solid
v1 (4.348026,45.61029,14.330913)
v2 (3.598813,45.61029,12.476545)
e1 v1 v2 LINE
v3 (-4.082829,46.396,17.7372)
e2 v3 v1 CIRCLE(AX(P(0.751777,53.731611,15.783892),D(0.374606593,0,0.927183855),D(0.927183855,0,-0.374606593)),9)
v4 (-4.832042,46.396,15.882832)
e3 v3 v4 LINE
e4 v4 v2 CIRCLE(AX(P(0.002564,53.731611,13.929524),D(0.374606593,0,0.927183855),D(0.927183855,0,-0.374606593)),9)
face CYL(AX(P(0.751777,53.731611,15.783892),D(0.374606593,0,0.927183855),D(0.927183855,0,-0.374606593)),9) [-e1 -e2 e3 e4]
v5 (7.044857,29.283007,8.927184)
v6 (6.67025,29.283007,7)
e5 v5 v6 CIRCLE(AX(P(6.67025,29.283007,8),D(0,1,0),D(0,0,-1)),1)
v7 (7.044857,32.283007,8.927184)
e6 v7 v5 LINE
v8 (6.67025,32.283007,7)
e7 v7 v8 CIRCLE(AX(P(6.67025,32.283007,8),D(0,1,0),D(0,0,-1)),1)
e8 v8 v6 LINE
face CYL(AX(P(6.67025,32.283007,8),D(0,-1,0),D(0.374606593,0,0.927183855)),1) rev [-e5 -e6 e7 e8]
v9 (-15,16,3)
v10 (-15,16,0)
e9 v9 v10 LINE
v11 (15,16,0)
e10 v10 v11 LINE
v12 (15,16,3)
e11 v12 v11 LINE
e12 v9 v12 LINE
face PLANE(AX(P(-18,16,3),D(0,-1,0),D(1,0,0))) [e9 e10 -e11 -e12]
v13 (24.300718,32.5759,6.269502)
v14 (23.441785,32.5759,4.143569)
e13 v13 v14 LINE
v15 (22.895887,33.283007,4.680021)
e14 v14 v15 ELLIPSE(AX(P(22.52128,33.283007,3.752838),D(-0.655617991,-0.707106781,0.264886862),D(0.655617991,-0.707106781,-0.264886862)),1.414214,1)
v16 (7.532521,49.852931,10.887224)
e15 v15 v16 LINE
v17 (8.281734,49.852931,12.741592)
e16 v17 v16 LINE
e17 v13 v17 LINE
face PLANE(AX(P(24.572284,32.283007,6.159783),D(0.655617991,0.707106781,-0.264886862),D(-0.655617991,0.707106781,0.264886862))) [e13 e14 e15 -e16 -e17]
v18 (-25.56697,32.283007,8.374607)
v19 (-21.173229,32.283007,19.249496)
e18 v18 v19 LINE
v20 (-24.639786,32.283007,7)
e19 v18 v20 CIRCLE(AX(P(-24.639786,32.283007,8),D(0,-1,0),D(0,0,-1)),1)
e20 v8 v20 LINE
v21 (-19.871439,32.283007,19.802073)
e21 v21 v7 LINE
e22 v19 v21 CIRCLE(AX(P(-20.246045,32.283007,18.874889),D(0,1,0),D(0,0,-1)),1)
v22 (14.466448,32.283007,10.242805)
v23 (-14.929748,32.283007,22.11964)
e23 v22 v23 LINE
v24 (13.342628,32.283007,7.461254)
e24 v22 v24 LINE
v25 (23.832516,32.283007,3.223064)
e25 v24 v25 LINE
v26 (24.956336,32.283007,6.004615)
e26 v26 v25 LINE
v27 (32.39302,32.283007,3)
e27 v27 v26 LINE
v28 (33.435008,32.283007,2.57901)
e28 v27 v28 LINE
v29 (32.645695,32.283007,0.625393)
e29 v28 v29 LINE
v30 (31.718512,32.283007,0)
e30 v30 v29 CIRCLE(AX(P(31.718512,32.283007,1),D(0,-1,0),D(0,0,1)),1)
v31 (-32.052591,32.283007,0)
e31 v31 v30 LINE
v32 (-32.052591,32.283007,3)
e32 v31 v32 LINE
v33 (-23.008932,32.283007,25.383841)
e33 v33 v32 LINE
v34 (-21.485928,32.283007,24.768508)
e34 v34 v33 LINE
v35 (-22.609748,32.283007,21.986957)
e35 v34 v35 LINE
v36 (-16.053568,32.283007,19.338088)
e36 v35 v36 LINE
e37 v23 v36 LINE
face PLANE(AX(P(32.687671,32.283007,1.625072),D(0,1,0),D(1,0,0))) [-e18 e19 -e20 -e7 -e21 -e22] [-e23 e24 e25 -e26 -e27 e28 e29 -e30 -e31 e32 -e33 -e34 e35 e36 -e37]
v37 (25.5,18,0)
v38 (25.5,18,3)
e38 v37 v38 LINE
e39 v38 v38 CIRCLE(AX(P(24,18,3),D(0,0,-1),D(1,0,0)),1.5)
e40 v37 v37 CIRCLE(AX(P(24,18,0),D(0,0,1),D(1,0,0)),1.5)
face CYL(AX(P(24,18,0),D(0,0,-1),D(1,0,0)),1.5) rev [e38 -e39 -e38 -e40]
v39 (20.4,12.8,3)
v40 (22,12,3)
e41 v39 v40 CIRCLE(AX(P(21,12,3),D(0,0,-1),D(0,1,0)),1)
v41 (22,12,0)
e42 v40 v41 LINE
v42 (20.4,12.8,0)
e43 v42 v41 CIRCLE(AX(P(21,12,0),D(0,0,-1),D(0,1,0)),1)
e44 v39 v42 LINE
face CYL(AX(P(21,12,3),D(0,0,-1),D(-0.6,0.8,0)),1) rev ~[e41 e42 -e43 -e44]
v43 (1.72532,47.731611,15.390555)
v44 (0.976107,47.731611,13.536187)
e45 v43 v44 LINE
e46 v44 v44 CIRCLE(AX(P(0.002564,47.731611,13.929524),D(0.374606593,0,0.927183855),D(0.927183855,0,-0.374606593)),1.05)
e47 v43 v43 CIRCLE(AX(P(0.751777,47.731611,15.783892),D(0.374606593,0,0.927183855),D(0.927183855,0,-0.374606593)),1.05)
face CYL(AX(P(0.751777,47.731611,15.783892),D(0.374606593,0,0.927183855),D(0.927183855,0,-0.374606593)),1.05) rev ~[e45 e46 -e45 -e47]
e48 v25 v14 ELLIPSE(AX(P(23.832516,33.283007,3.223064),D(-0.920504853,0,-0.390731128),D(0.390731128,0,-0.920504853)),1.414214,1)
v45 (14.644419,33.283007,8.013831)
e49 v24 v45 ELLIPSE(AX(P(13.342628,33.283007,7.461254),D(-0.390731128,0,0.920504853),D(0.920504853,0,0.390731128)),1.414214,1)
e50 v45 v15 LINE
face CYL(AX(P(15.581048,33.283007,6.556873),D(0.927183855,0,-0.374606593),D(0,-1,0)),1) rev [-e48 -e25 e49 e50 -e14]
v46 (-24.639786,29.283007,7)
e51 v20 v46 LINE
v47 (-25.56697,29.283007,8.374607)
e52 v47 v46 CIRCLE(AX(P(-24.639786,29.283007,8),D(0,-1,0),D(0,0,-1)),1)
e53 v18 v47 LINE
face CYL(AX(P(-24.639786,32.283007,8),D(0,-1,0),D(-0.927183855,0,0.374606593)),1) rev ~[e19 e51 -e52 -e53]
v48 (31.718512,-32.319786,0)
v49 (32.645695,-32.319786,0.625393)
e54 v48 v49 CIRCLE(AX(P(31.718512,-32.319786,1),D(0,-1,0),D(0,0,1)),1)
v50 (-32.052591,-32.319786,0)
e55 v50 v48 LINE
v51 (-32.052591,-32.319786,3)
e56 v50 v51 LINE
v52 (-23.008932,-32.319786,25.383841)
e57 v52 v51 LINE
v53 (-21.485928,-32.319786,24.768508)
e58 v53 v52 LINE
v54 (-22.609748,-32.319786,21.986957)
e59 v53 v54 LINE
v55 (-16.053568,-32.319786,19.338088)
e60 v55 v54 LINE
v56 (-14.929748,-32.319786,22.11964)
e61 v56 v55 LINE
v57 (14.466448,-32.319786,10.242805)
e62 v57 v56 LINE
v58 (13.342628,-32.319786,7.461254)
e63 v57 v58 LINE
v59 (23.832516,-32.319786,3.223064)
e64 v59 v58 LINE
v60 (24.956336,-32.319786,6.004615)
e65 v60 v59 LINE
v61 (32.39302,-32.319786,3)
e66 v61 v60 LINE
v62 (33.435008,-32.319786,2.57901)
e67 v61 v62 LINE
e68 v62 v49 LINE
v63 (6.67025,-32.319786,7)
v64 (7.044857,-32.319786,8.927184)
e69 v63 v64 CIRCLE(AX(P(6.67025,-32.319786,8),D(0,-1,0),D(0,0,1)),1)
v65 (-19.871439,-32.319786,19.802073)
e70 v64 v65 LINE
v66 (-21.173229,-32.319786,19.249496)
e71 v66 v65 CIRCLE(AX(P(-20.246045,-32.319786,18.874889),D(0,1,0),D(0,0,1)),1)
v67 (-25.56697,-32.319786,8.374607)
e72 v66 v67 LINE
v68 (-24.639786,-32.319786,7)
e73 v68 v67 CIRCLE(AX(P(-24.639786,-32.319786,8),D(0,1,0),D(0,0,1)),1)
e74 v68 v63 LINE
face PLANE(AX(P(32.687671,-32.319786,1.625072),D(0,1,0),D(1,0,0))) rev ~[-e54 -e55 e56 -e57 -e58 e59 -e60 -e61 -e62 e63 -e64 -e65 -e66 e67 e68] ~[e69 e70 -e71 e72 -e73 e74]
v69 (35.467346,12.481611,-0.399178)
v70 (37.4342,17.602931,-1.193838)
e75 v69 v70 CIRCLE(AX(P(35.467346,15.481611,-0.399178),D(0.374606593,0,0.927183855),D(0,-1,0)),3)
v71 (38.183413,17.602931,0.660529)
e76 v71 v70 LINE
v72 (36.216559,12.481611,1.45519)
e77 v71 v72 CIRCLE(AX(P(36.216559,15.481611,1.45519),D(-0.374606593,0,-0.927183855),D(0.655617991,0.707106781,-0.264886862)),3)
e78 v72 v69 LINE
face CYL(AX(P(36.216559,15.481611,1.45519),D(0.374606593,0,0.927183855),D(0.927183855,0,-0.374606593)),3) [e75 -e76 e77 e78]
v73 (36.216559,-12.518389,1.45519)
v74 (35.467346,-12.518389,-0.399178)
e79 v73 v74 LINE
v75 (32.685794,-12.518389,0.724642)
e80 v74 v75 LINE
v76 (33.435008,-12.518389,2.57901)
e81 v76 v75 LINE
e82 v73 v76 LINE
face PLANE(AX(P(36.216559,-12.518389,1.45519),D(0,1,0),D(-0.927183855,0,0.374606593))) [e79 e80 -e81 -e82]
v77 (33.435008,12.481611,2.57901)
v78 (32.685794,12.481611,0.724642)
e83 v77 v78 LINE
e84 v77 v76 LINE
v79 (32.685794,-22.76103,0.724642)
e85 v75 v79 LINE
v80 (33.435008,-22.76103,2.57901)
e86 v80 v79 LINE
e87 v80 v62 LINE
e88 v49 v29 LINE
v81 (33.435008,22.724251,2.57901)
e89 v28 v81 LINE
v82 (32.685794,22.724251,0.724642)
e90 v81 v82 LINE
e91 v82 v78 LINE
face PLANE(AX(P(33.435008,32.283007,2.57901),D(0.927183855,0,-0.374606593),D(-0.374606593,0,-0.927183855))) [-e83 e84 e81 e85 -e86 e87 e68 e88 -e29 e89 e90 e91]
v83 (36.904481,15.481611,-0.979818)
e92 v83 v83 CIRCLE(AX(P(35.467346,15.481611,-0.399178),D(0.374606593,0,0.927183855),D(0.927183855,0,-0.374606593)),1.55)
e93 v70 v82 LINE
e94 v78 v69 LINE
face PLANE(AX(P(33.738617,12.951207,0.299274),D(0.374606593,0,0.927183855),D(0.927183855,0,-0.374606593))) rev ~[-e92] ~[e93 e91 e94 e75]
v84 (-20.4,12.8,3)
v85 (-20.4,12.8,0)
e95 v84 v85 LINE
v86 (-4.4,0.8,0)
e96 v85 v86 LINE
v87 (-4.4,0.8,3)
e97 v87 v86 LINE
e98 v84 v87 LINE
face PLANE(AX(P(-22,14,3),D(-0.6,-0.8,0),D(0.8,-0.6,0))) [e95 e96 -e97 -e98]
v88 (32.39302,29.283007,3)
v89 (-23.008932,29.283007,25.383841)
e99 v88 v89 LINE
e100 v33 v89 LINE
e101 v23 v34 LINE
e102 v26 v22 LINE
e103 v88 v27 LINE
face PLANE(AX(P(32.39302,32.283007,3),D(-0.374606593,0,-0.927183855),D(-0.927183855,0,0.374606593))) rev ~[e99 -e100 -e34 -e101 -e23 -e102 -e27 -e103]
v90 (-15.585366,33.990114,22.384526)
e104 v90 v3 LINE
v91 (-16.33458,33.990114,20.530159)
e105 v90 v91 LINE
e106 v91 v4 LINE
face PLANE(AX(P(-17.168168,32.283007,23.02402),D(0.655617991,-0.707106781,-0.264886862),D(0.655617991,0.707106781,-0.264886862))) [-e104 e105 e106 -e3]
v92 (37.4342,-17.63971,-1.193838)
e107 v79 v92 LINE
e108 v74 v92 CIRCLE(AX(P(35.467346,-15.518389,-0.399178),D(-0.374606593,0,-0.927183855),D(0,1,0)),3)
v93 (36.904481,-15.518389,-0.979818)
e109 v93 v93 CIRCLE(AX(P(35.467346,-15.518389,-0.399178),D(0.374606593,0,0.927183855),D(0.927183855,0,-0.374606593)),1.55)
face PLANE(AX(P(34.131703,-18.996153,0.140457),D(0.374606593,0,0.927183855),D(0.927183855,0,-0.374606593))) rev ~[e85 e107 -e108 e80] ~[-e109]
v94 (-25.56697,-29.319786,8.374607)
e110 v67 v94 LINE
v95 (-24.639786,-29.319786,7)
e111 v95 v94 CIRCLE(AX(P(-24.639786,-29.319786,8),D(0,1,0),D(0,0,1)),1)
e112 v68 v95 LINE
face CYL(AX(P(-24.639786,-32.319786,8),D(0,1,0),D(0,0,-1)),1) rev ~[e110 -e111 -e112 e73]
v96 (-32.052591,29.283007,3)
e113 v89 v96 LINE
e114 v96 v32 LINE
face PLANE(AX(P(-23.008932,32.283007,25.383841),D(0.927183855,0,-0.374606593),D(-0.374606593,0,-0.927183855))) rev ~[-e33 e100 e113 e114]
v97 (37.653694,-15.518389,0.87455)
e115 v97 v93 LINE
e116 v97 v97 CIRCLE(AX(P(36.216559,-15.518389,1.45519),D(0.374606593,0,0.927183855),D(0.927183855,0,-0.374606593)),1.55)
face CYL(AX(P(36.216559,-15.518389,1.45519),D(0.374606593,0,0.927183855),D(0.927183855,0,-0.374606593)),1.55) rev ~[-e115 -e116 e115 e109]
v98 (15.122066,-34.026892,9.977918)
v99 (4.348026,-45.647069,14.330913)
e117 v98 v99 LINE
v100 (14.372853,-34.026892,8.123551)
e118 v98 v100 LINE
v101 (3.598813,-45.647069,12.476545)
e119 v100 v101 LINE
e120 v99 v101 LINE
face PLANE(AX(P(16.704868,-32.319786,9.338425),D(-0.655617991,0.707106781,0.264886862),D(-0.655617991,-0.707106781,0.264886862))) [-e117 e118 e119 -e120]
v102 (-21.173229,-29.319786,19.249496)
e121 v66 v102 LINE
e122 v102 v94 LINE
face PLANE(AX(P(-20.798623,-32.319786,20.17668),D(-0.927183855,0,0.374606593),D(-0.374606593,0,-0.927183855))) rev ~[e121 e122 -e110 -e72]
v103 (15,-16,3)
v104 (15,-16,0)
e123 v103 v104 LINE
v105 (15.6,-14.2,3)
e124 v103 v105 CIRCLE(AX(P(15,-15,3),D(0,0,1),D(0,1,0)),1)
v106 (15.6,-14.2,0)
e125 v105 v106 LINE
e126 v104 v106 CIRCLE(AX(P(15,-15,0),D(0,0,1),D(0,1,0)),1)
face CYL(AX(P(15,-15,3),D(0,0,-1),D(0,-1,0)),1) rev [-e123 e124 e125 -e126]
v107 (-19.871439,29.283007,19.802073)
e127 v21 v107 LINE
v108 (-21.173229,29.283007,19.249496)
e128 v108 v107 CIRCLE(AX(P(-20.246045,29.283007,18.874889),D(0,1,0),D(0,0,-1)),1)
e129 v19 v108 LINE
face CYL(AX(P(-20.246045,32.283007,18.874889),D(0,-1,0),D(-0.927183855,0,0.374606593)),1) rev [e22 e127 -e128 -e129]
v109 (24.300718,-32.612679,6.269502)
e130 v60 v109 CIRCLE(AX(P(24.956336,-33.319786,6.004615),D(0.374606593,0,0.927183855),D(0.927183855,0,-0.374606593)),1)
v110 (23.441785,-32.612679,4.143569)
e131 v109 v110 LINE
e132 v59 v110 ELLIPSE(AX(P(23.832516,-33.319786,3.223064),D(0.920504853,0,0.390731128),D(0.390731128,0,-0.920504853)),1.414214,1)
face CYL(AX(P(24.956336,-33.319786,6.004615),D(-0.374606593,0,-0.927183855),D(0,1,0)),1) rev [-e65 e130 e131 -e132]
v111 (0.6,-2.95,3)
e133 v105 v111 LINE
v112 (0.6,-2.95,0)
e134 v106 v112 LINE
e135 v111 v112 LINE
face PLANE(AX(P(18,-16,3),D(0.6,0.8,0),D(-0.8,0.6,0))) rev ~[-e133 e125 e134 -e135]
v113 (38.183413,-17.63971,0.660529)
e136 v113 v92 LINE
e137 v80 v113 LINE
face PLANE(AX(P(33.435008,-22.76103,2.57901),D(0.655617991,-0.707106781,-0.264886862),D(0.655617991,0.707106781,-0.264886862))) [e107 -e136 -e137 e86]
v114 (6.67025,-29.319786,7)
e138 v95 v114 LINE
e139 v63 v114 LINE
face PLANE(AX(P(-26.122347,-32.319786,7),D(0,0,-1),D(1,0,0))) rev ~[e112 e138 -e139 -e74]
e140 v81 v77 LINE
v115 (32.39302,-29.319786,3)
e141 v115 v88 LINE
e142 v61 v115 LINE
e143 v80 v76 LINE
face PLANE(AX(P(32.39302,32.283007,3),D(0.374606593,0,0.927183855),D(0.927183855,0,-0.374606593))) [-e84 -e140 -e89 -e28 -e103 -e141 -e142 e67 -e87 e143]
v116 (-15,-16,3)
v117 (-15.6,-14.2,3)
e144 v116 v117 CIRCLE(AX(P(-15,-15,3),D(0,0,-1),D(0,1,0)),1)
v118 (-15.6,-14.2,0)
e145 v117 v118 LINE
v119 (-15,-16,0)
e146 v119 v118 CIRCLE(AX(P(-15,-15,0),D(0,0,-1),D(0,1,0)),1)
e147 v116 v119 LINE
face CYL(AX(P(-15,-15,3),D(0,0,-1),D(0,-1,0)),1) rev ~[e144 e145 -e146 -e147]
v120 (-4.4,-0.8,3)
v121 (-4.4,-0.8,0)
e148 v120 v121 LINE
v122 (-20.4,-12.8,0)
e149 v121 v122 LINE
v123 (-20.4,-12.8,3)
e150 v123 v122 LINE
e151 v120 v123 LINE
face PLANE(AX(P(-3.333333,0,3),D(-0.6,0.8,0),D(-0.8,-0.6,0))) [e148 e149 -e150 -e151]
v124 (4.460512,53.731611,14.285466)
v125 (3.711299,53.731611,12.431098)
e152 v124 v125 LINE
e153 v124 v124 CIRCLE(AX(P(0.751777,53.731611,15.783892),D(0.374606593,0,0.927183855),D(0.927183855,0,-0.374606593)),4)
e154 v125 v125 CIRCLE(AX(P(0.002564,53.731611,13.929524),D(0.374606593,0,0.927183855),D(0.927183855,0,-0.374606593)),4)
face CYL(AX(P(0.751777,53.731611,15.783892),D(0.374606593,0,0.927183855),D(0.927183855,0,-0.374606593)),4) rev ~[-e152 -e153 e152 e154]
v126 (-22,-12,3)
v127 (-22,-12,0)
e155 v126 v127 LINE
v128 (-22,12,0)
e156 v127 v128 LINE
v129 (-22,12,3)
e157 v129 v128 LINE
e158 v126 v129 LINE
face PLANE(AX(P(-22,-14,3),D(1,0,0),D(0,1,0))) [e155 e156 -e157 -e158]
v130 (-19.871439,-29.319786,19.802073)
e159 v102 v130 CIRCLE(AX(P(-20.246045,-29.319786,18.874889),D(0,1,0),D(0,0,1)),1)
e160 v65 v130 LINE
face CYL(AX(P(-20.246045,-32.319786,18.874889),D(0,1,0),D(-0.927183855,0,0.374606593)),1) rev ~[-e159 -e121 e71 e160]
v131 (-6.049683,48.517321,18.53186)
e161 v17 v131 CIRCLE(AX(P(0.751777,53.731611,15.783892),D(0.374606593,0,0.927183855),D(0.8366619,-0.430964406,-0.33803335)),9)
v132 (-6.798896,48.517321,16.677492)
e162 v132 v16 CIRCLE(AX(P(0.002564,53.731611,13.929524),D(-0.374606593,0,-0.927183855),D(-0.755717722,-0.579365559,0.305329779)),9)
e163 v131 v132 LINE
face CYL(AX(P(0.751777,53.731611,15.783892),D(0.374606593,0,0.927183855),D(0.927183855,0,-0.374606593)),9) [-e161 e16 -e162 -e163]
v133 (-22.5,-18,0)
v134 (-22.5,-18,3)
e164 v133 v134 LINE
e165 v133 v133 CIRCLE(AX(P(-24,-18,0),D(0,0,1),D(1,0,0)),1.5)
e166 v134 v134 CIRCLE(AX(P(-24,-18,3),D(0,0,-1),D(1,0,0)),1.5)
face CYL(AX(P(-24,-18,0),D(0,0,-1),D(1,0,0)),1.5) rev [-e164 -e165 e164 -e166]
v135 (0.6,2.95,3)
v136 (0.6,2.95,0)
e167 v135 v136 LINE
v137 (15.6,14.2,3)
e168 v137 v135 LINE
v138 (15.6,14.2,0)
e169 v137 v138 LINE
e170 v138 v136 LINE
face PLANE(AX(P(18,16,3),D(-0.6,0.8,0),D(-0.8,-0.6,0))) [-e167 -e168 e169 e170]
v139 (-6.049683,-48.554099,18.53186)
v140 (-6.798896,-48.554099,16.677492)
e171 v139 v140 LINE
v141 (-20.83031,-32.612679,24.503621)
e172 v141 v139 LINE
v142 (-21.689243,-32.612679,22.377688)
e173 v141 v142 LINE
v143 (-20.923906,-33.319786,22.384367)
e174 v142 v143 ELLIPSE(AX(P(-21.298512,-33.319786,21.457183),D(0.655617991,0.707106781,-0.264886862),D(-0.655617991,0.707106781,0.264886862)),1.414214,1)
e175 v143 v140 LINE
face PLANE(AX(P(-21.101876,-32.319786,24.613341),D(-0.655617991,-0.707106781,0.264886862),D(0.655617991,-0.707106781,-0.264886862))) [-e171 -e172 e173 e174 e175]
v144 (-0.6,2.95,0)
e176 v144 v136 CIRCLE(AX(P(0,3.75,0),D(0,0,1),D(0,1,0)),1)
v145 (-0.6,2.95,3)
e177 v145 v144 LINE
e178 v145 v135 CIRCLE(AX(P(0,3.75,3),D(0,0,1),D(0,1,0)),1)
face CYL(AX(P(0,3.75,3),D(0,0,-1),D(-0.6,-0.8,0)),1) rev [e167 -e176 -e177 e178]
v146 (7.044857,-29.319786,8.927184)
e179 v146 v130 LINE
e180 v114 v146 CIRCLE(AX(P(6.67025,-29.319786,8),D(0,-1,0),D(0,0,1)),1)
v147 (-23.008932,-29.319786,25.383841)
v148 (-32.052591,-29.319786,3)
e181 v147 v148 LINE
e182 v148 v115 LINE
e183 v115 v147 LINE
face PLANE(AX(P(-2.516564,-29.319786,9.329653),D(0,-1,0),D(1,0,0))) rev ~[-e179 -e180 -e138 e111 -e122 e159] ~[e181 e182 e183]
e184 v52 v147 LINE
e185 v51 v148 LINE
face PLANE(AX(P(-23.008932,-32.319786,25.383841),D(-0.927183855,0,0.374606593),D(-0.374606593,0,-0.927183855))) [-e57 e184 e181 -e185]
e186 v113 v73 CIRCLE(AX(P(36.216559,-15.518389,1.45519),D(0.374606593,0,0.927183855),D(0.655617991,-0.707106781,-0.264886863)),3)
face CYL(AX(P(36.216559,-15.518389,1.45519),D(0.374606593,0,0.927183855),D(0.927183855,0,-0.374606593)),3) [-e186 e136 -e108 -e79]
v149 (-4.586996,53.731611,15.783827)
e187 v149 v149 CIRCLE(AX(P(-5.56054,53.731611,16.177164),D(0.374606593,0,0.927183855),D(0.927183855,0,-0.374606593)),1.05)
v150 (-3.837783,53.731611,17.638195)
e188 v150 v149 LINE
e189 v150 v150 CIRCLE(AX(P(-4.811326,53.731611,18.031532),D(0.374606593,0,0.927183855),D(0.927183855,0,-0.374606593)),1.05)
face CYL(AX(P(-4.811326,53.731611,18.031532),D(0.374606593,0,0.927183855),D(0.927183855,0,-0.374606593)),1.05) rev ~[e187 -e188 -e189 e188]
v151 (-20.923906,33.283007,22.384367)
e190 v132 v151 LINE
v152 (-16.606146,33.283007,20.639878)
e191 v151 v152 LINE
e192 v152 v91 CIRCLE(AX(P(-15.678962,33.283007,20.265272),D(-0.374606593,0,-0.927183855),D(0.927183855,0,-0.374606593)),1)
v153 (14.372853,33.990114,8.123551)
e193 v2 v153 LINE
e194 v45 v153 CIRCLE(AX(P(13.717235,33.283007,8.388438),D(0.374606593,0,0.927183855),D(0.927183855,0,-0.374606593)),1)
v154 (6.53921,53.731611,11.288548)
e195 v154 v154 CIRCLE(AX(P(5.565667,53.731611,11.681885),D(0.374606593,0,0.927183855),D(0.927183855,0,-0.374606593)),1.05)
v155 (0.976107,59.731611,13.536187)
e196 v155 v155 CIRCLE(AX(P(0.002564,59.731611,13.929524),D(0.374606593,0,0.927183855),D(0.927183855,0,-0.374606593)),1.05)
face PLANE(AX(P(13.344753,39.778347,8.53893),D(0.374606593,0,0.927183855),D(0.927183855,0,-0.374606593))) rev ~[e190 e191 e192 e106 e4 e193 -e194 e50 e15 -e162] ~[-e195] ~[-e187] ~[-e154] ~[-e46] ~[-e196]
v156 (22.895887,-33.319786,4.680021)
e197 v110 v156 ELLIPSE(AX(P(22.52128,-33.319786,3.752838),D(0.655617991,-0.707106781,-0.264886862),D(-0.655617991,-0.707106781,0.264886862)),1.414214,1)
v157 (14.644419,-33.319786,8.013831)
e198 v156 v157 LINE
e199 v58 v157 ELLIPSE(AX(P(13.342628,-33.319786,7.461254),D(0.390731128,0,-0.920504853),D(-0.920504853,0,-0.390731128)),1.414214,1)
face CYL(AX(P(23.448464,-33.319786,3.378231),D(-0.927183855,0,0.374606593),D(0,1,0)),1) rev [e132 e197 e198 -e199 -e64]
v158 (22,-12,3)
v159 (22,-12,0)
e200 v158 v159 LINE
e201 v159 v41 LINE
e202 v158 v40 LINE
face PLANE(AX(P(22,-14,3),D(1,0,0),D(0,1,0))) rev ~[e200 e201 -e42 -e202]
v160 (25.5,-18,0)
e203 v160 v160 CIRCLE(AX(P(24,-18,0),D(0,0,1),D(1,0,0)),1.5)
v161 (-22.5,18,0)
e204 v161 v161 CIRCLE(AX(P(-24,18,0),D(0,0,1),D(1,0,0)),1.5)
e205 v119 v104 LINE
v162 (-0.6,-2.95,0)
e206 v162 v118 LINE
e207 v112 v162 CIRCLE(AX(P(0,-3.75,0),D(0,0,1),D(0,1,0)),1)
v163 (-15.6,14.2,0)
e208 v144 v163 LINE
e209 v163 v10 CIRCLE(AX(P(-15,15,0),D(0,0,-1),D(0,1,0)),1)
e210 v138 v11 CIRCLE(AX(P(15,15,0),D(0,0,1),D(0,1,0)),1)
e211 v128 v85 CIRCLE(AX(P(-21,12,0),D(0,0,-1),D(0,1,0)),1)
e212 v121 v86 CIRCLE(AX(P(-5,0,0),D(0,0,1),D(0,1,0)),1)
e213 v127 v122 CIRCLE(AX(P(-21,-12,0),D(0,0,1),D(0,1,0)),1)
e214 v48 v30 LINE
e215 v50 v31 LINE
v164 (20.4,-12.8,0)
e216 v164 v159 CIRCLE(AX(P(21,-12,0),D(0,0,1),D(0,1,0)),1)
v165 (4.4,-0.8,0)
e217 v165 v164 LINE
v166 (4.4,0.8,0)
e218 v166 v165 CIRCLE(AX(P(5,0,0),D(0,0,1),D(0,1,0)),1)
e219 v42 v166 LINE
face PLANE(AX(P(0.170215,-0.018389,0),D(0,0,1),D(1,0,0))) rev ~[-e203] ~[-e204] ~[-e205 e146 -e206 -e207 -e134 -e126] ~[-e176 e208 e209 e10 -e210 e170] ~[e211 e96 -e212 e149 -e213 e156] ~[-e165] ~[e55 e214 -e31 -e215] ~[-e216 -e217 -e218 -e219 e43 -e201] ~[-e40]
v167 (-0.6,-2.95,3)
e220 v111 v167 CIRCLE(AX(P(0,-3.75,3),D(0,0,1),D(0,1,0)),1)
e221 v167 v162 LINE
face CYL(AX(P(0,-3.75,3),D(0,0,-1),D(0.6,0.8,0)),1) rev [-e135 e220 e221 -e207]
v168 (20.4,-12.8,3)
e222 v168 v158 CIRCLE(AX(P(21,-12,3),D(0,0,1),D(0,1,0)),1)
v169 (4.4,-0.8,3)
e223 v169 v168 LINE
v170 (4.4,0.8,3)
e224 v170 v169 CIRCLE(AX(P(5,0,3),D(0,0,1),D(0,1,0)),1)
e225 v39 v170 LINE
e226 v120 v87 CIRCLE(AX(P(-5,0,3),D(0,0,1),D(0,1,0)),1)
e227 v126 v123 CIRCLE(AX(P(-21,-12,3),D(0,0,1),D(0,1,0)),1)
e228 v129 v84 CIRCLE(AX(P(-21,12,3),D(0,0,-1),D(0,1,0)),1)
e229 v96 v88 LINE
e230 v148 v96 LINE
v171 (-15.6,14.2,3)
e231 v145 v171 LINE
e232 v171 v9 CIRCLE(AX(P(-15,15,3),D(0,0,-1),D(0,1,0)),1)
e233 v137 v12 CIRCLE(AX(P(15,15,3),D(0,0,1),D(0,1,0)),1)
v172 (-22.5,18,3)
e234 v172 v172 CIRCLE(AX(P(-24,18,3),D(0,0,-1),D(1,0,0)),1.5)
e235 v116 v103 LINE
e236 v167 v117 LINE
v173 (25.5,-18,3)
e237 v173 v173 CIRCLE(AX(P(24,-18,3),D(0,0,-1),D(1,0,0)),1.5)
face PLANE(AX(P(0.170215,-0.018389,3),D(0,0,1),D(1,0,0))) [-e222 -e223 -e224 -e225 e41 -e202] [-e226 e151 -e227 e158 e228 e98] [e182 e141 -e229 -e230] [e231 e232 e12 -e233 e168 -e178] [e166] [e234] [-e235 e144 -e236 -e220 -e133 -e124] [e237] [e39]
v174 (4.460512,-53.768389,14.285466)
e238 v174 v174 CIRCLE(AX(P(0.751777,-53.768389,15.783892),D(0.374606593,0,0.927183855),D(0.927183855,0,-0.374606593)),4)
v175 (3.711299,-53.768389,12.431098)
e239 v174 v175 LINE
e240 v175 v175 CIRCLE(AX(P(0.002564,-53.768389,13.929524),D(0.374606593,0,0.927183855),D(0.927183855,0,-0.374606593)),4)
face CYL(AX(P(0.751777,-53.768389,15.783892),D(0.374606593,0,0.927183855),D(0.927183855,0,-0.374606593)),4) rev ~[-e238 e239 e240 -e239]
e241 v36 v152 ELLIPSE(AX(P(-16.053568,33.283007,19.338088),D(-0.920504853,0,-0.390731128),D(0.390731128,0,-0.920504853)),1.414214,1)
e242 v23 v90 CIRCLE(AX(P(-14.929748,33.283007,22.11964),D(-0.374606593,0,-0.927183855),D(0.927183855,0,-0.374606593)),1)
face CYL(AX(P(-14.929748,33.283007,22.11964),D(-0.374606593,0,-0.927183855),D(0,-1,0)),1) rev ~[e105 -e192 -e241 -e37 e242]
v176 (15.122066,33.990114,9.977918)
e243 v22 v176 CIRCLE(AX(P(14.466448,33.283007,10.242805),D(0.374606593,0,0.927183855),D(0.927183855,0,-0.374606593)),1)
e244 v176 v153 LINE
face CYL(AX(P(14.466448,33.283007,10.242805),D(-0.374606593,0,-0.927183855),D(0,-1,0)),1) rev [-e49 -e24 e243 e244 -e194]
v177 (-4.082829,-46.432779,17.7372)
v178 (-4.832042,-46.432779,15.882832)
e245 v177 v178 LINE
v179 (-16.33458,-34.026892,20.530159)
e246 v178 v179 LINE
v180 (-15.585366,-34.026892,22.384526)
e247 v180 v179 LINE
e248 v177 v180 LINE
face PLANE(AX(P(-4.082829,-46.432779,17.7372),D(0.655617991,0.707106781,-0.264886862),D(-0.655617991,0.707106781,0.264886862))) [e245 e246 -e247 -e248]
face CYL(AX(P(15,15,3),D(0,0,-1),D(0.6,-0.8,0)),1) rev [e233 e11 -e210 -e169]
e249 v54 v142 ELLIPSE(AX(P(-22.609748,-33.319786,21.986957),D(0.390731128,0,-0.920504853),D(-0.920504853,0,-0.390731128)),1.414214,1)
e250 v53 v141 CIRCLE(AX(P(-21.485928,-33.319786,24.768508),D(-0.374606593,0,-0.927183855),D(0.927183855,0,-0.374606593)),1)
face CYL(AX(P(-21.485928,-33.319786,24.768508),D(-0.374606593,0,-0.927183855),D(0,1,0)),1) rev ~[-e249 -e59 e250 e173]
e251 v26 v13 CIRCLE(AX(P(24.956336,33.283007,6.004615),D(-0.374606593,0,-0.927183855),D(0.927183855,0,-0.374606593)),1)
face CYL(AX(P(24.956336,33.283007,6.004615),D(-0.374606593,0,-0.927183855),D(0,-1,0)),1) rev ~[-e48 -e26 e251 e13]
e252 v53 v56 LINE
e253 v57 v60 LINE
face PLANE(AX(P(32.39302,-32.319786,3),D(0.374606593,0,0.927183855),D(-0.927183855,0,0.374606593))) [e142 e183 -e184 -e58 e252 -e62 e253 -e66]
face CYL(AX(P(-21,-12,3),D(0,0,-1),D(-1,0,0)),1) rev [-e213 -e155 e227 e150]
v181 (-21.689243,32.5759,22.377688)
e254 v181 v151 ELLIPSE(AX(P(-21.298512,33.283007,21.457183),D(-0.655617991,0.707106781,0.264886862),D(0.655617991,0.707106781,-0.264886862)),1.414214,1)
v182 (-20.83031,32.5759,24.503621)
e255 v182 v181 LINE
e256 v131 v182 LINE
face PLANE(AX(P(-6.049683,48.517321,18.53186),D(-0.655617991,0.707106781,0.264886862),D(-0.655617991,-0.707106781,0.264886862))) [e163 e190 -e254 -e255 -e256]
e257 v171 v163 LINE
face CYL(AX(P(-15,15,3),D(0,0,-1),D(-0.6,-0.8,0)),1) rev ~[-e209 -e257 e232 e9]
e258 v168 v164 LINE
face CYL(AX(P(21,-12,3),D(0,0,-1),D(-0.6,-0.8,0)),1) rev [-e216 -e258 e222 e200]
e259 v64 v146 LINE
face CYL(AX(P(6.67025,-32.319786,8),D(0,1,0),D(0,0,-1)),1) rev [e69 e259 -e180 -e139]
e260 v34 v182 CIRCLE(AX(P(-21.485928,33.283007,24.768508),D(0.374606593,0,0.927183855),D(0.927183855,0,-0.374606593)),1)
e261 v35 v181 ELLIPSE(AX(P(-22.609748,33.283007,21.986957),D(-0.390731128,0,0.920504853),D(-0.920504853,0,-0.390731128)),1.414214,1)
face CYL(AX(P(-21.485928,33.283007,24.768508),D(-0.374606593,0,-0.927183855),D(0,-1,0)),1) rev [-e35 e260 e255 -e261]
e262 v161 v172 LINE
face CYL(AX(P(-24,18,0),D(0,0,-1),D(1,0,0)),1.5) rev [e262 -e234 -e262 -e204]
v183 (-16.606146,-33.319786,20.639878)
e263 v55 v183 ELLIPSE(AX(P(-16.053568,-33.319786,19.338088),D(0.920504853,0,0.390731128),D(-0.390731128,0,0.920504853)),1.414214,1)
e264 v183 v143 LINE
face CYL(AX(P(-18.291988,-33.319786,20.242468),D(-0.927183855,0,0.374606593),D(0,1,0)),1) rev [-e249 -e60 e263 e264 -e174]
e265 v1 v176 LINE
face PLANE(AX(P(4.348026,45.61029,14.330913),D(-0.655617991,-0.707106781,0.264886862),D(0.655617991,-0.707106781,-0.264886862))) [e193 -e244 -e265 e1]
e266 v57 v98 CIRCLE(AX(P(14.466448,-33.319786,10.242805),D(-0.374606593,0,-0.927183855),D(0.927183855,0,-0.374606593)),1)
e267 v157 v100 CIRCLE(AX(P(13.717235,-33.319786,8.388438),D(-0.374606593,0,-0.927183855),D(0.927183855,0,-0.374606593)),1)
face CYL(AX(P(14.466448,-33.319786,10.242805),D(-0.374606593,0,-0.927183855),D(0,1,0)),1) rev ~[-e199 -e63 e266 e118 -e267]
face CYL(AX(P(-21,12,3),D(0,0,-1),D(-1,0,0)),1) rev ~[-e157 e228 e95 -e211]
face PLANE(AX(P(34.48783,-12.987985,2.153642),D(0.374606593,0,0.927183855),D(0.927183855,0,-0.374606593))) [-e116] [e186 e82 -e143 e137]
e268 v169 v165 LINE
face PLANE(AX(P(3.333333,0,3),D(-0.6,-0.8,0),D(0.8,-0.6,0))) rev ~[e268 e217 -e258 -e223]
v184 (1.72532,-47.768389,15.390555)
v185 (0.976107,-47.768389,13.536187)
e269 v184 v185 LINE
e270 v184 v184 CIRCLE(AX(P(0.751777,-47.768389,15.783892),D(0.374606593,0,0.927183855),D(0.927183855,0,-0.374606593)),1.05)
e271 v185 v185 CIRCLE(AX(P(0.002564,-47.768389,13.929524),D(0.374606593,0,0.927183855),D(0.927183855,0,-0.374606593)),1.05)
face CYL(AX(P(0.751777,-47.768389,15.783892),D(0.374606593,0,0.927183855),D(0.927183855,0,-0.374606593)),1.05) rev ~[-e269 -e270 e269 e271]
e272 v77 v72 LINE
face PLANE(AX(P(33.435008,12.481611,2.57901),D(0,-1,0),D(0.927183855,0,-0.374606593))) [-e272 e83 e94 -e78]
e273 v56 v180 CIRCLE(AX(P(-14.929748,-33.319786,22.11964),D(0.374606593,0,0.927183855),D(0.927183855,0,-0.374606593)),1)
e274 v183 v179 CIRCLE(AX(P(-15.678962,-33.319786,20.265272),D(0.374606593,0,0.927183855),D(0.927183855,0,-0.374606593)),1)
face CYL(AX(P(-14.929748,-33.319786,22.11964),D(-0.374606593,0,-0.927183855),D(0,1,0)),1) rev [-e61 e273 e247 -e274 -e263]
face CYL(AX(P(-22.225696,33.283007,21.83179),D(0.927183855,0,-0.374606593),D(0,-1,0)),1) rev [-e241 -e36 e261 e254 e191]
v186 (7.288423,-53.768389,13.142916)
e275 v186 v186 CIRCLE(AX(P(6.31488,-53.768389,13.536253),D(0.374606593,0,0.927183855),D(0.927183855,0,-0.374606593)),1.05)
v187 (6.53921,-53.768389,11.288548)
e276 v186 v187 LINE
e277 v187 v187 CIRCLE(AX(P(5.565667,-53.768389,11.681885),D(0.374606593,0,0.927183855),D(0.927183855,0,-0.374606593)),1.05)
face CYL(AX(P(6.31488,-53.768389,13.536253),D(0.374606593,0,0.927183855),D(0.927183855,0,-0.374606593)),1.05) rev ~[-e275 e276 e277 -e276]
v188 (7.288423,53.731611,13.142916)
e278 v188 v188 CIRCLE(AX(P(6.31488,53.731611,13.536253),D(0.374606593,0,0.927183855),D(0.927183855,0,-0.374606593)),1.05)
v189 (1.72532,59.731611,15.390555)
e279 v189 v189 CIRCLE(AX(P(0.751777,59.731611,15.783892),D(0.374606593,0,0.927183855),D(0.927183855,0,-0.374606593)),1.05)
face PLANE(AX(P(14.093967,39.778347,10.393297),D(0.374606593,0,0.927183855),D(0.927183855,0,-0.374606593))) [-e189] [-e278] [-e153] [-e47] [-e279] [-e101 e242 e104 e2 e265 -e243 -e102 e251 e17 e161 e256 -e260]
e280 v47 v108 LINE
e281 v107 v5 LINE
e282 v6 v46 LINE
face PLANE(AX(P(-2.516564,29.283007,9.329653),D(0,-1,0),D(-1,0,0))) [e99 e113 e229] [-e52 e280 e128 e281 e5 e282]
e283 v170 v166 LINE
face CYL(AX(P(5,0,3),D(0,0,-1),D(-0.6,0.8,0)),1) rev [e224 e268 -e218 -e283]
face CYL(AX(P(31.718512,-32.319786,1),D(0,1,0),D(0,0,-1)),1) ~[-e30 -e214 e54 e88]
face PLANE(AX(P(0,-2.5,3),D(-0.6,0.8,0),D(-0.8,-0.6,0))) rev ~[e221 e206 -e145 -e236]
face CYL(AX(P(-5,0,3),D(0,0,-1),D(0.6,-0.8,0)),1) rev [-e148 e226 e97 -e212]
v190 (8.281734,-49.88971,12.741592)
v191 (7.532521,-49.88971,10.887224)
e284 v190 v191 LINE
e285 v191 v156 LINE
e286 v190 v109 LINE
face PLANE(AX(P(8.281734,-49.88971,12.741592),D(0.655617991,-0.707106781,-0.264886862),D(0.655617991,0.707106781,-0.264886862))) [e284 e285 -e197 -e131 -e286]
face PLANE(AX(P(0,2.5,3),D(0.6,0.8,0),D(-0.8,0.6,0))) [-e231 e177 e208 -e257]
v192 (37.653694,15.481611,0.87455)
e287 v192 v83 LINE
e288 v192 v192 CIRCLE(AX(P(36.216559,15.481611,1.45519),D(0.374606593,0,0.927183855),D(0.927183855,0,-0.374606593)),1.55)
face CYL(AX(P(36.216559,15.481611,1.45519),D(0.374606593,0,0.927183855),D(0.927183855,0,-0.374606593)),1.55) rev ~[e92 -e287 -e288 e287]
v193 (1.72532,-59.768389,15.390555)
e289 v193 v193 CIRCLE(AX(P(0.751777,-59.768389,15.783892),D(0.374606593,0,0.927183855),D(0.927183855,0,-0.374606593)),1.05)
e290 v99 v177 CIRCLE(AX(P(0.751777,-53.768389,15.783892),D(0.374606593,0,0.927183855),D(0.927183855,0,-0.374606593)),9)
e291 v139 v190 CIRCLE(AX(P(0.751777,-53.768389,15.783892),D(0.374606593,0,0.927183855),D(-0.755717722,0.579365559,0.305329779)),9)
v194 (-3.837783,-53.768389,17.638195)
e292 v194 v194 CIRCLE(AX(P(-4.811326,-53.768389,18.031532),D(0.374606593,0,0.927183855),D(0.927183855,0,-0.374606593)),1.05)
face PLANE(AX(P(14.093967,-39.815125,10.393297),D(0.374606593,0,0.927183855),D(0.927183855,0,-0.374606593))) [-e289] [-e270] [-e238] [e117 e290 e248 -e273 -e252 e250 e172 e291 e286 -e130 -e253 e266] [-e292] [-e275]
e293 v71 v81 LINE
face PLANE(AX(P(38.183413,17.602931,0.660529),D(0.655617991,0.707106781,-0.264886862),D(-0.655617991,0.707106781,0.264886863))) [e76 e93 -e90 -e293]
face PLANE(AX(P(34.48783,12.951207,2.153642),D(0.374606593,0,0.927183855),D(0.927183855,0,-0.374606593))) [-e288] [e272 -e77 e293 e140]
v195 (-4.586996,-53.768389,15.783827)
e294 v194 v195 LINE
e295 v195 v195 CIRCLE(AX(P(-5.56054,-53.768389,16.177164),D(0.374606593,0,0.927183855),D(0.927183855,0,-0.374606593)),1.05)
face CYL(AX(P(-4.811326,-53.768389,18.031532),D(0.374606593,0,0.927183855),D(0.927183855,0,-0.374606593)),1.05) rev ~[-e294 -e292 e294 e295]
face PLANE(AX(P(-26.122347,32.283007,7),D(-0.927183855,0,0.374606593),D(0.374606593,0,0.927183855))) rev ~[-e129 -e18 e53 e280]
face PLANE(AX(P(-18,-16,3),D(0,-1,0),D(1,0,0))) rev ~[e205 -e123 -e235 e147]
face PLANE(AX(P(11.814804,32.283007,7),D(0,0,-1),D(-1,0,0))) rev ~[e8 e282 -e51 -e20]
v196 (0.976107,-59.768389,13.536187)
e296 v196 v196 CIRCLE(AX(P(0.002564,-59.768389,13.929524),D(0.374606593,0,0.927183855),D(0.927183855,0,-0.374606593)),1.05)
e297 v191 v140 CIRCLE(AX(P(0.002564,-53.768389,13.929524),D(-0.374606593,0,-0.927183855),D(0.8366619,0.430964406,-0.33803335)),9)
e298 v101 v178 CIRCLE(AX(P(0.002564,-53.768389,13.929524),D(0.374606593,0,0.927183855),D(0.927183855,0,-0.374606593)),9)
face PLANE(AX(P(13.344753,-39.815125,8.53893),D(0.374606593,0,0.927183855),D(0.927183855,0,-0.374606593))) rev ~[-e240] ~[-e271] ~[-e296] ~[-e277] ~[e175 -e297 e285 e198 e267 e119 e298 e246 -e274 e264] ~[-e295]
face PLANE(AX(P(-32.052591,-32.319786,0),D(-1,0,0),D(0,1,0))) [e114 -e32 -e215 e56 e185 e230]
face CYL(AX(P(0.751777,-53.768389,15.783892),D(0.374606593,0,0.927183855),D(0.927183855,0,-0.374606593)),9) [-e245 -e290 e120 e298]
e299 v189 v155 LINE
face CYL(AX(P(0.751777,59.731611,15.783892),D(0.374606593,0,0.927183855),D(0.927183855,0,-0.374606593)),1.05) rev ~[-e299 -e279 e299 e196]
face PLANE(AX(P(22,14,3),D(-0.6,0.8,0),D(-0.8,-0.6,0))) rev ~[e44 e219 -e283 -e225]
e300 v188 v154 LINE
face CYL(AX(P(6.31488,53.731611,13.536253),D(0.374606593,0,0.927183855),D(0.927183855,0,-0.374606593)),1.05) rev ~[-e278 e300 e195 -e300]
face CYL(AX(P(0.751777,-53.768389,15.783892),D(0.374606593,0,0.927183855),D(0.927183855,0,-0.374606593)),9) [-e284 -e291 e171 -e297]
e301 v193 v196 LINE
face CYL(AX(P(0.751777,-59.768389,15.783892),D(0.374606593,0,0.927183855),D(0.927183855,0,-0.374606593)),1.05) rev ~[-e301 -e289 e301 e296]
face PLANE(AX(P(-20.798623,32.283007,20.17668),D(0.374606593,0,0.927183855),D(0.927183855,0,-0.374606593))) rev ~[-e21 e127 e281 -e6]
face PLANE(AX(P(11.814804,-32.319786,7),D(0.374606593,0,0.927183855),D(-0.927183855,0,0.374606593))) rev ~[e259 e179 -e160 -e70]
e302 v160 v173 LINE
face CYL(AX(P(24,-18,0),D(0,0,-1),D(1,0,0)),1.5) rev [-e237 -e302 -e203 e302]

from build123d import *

# Parameters (mm, degrees)
SKETCH_2_W          = 64.445610825
SKETCH_2_H          = 64.602792554
EXTRUDE_2_DEPTH     = 3
SKETCH_3_R          = 1.5
CUT_EXTRUDE_1_DEPTH = 4
EXTRUDE_3_DEPTH     = 3
EXTRUDE_4_DEPTH     = 3
EXTRUDE_6_DEPTH     = 64.602792554
SKETCH_11_R         = 3
SKETCH_11_R_2       = 1.55
SKETCH_11_R_3       = 9
SKETCH_11_R_4       = 1.05
SKETCH_11_R_5       = 4
EXTRUDE_7_DEPTH     = 2
FILLET_1_R          = 1
FILLET_2_R          = 1
FILLET_3_R          = 1
CUT_EXTRUDE_3_DEPTH = 78.212432343
FILLET_5_R          = 1


with BuildPart() as part:
    # 草图2 → 凸台-拉伸2 (new body)
    with BuildSketch(Plane.XY):
        with Locations((0.170214688, -0.018389364)):
            Rectangle(SKETCH_2_W, SKETCH_2_H)
    extrude(amount=EXTRUDE_2_DEPTH)

    # 草图3 → 切除-拉伸1 (cut)
    with BuildSketch(Plane.XY):
        with Locations((24, -18)):
            Circle(SKETCH_3_R)
        with Locations((-24, -18)):
            Circle(SKETCH_3_R)
        with Locations((-24, 18)):
            Circle(SKETCH_3_R)
        with Locations((24, 18)):
            Circle(SKETCH_3_R)
    extrude(amount=CUT_EXTRUDE_1_DEPTH, mode=Mode.SUBTRACT)

    # 草图9 → 凸台-拉伸3 (add)
    with BuildSketch(Plane(origin=(0, 32.283006913, 0), x_dir=(1, 0, 0), z_dir=(0, 1, 0))):
        Polygon((-32.052590724, -3), (32.393020101, -3), (-23.008931723, -25.383841499), align=None)
        Polygon((-20.798622679, -20.176679707), (11.814804037, -7), (-26.12234685, -7), align=None, mode=Mode.SUBTRACT)
    extrude(amount=-EXTRUDE_3_DEPTH)

    # 草图10 → 凸台-拉伸4 (add)
    with BuildSketch(Plane.XZ.offset(32.319785641)):
        Polygon((-23.008931723, 25.383841499), (-32.052590724, 3), (32.393020101, 3), align=None)
        Polygon((11.814804037, 7), (-20.798622679, 20.176679707), (-26.12234685, 7), align=None, mode=Mode.SUBTRACT)
    extrude(amount=-EXTRUDE_4_DEPTH)

    # 草图13 → 凸台-拉伸6 (add)
    with BuildSketch(Plane(origin=(0, 32.283006913, 0), x_dir=(1, 0, 0), z_dir=(0, 1, 0))):
        Polygon((32.393020101, -3), (33.435007656, -2.579009701), (32.393020101, 0), align=None)
    extrude(amount=-EXTRUDE_6_DEPTH)

    # 草图11 → 凸台-拉伸7 (add)
    # profile 1 of 14: a face of its own
    with BuildSketch(Plane(origin=(5.5877033, 0, 13.830050979), x_dir=(0.9271838545667869, 0, -0.37460659341591335), z_dir=(0.37460659341591335, 0, 0.9271838545667869))):
        with BuildLine():
            Line((30.912964894, 13.360290293), (30.034285238, 14.238969949))
            Line((30.034285238, 14.238969949), (30.034285238, 12.481610636))
            Line((30.034285238, 12.481610636), (33.034285238, 12.481610636))
            ThreePointArc((33.034285238, 12.481610636), (31.886234941, 12.709972039), (30.912964894, 13.360290293))
        make_face()
    # profile 2 of 14: a face of its own
    with BuildSketch(Plane(origin=(5.5877033, 0, 13.830050979), x_dir=(0.9271838545667869, 0, -0.37460659341591335), z_dir=(0.37460659341591335, 0, 0.9271838545667869))):
        with Locations((33.034285238, 15.481610636)):
            Circle(SKETCH_11_R)
        with Locations((33.034285238, 15.481610636)):
            Circle(SKETCH_11_R_2, mode=Mode.SUBTRACT)
    # profile 3 of 14: a face of its own
    with BuildSketch(Plane(origin=(5.5877033, 0, 13.830050979), x_dir=(0.9271838545667869, 0, -0.37460659341591335), z_dir=(0.37460659341591335, 0, 0.9271838545667869))):
        with BuildLine():
            Line((30.034285238, 15.481610693), (30.034285238, 14.238969949))
            Line((30.034285238, 14.238969949), (30.912964894, 13.360290293))
            ThreePointArc((30.912964894, 13.360290293), (30.26264663, 14.333560365), (30.034285238, 15.481610693))
        make_face()
    # profile 4 of 14: a face of its own
    with BuildSketch(Plane(origin=(5.5877033, 0, 13.830050979), x_dir=(0.9271838545667869, 0, -0.37460659341591335), z_dir=(0.37460659341591335, 0, 0.9271838545667869))):
        with BuildLine():
            Line((35.155605582, 17.60293098), (30.034285238, 22.724251323))
            Line((30.034285238, 22.724251323), (30.034285238, 15.481610693))
            ThreePointArc((30.034285238, 15.481610693), (31.886234967, 18.253249245), (35.155605582, 17.60293098))
        make_face()
    # profile 5 of 14: a face of its own
    with BuildSketch(Plane(origin=(5.5877033, 0, 13.830050979), x_dir=(0.9271838545667869, 0, -0.37460659341591335), z_dir=(0.37460659341591335, 0, 0.9271838545667869))):
        with Locations((33.034285238, -15.518389364)):
            Circle(SKETCH_11_R)
        with Locations((33.034285238, -15.518389364)):
            Circle(SKETCH_11_R_2, mode=Mode.SUBTRACT)
    # profile 6 of 14: a face of its own
    with BuildSketch(Plane(origin=(5.5877033, 0, 13.830050979), x_dir=(0.9271838545667869, 0, -0.37460659341591335), z_dir=(0.37460659341591335, 0, 0.9271838545667869))):
        with BuildLine():
            Line((30.912964894, -13.39706902), (30.034285238, -14.275748677))
            Line((30.034285238, -14.275748677), (30.034285238, -15.518389325))
            ThreePointArc((30.034285238, -15.518389325), (30.262646648, -14.370339049), (30.912964894, -13.39706902))
        make_face()
    # profile 7 of 14: a face of its own
    with BuildSketch(Plane(origin=(5.5877033, 0, 13.830050979), x_dir=(0.9271838545667869, 0, -0.37460659341591335), z_dir=(0.37460659341591335, 0, 0.9271838545667869))):
        with BuildLine():
            Line((33.034285238, -12.518389364), (30.034285238, -12.518389364))
            Line((30.034285238, -12.518389364), (30.034285238, -14.275748677))
            Line((30.034285238, -14.275748677), (30.912964894, -13.39706902))
            ThreePointArc((30.912964894, -13.39706902), (31.886234941, -12.746750766), (33.034285238, -12.518389364))
        make_face()
    # profile 8 of 14: a face of its own
    with BuildSketch(Plane(origin=(5.5877033, 0, 13.830050979), x_dir=(0.9271838545667869, 0, -0.37460659341591335), z_dir=(0.37460659341591335, 0, 0.9271838545667869))):
        with BuildLine():
            ThreePointArc((35.155605582, -17.639709707), (31.886234923, -18.290027954), (30.034285238, -15.518389325))
            Line((30.034285238, -15.518389325), (30.034285238, -22.761030051))
            Line((30.034285238, -22.761030051), (35.155605582, -17.639709707))
        make_face()
    # profile 9 of 14: a face of its own
    with BuildSketch(Plane(origin=(5.5877033, 0, 13.830050979), x_dir=(0.9271838545667869, 0, -0.37460659341591335), z_dir=(0.37460659341591335, 0, 0.9271838545667869))):
        with BuildLine():
            Line((20.475529648, -32.319785641), (11.990248274, -32.319785641))
            Line((11.990248274, -32.319785641), (-1.337035106, -45.64706902))
            ThreePointArc((-1.337035106, -45.64706902), (1.148246269, -47.404428333), (2.905605582, -49.889709707))
            Line((2.905605582, -49.889709707), (20.475529648, -32.319785641))
        make_face()
    # profile 10 of 14: a face of its own
    with BuildSketch(Plane(origin=(5.5877033, 0, 13.830050979), x_dir=(0.9271838545667869, 0, -0.37460659341591335), z_dir=(0.37460659341591335, 0, 0.9271838545667869))):
        with Locations((-5.215714762, -53.768389364)):
            Circle(SKETCH_11_R_3)
        with Locations((-11.215714762, -53.768389364)):
            Circle(SKETCH_11_R_4, mode=Mode.SUBTRACT)
        with Locations((-5.215714762, -53.768389364)):
            Circle(SKETCH_11_R_5, mode=Mode.SUBTRACT)
        with Locations((-5.215714762, -47.768389364)):
            Circle(SKETCH_11_R_4, mode=Mode.SUBTRACT)
        with Locations((0.784285238, -53.768389364)):
            Circle(SKETCH_11_R_4, mode=Mode.SUBTRACT)
        with Locations((-5.215714762, -59.768389364)):
            Circle(SKETCH_11_R_4, mode=Mode.SUBTRACT)
    # profile 11 of 14: a face of its own
    with BuildSketch(Plane(origin=(5.5877033, 0, 13.830050979), x_dir=(0.9271838545667869, 0, -0.37460659341591335), z_dir=(0.37460659341591335, 0, 0.9271838545667869))):
        with BuildLine():
            Line((-10.430004789, -46.432778993), (-24.542998142, -32.319785641))
            Line((-24.542998142, -32.319785641), (-28.785638829, -32.319785641))
            Line((-28.785638829, -32.319785641), (-12.551325133, -48.554099337))
            ThreePointArc((-12.551325133, -48.554099337), (-11.579675793, -47.404428333), (-10.430004789, -46.432778993))
        make_face()
    # profile 12 of 14: a face of its own
    with BuildSketch(Plane(origin=(5.5877033, 0, 13.830050979), x_dir=(0.9271838545667869, 0, -0.37460659341591335), z_dir=(0.37460659341591335, 0, 0.9271838545667869))):
        with BuildLine():
            Line((20.475529648, 32.283006913), (2.905605582, 49.85293098))
            ThreePointArc((2.905605582, 49.85293098), (1.148246269, 47.367649606), (-1.337035106, 45.610290293))
            Line((-1.337035106, 45.610290293), (11.990248274, 32.283006913))
            Line((11.990248274, 32.283006913), (20.475529648, 32.283006913))
        make_face()
    # profile 13 of 14: a face of its own
    with BuildSketch(Plane(origin=(5.5877033, 0, 13.830050979), x_dir=(0.9271838545667869, 0, -0.37460659341591335), z_dir=(0.37460659341591335, 0, 0.9271838545667869))):
        with BuildLine():
            ThreePointArc((-10.430004789, 46.396000265), (-11.579675793, 47.367649606), (-12.551325133, 48.517320609))
            Line((-12.551325133, 48.517320609), (-28.785638829, 32.283006913))
            Line((-28.785638829, 32.283006913), (-24.542998142, 32.283006913))
            Line((-24.542998142, 32.283006913), (-10.430004789, 46.396000265))
        make_face()
    # profile 14 of 14: a face of its own
    with BuildSketch(Plane(origin=(5.5877033, 0, 13.830050979), x_dir=(0.9271838545667869, 0, -0.37460659341591335), z_dir=(0.37460659341591335, 0, 0.9271838545667869))):
        with Locations((-5.215714762, 53.731610636)):
            Circle(SKETCH_11_R_3)
        with Locations((-11.215714762, 53.731610636)):
            Circle(SKETCH_11_R_4, mode=Mode.SUBTRACT)
        with Locations((-5.215714762, 53.731610636)):
            Circle(SKETCH_11_R_5, mode=Mode.SUBTRACT)
        with Locations((-5.215714762, 59.731610636)):
            Circle(SKETCH_11_R_4, mode=Mode.SUBTRACT)
        with Locations((0.784285238, 53.731610636)):
            Circle(SKETCH_11_R_4, mode=Mode.SUBTRACT)
        with Locations((-5.215714762, 47.731610636)):
            Circle(SKETCH_11_R_4, mode=Mode.SUBTRACT)
    extrude(amount=-EXTRUDE_7_DEPTH)

    # 圆角1
    fillet_1_edges = [part.edges().sort_by_distance(p)[0] for p in [
        (32.393020101, -0.018389364, 0),
    ]]
    fillet(fillet_1_edges, radius=FILLET_1_R)

    # 圆角2
    fillet_2_edges = [part.edges().sort_by_distance(p)[0] for p in [
        (16.330261319, -32.319785641, 8.411241064),
        (24.19767721, -32.319785641, 5.232598715),
        (-21.476482859, -32.319785641, 23.686157226),
        (-17.542774913, -32.319785641, 22.096836051),
        (19.889362671, -32.319785641, 5.894736035),
        (-19.884235479, -32.319785641, 21.964312784),
        (24.19767721, 32.283006913, 5.232598715),
        (16.330261319, 32.283006913, 8.411241064),
        (-17.542774913, 32.283006913, 22.096836051),
        (-21.476482859, 32.283006913, 23.686157226),
        (19.889362671, 32.283006913, 5.894736035),
        (-19.884235479, 32.283006913, 21.964312784),
    ]]
    fillet(fillet_2_edges, radius=FILLET_2_R)

    # 圆角3
    fillet_3_edges = [part.edges().sort_by_distance(p)[0] for p in [
        (-26.12234685, 30.783006913, 7),
        (11.814804037, 30.783006913, 7),
        (-20.798622679, 30.783006913, 20.176679707),
        (-26.12234685, -30.819785641, 7),
        (-20.798622679, -30.819785641, 20.176679707),
        (11.814804037, -30.819785641, 7),
    ]]
    fillet(fillet_3_edges, radius=FILLET_3_R)

    # 草图15 → 切除-拉伸3 (cut, through all)
    with BuildSketch(Plane.XY.offset(3)):
        Polygon((-18, 16), (18, 16), (0, 2.5), align=None)
        Polygon((-22, 14), (-3.333333333, 0), (-22, -14), align=None)
        Polygon((-18, -16), (18, -16), (0, -2.5), align=None)
        Polygon((22, 14), (3.333333333, 0), (22, -14), align=None)
    extrude(amount=-CUT_EXTRUDE_3_DEPTH, mode=Mode.SUBTRACT)

    # 圆角5
    fillet_5_edges = [part.edges().sort_by_distance(p)[0] for p in [
        (-18, -16, 1.5),
        (0, -2.5, 1.5),
        (18, -16, 1.5),
        (-22, -14, 1.5),
        (-22, 14, 1.5),
        (-3.333333333, 0, 1.5),
        (22, 14, 1.5),
        (22, -14, 1.5),
        (3.333333333, 0, 1.5),
        (0, 2.5, 1.5),
        (-18, 16, 1.5),
        (18, 16, 1.5),
    ]]
    fillet(fillet_5_edges, radius=FILLET_5_R)


solid = part.part
